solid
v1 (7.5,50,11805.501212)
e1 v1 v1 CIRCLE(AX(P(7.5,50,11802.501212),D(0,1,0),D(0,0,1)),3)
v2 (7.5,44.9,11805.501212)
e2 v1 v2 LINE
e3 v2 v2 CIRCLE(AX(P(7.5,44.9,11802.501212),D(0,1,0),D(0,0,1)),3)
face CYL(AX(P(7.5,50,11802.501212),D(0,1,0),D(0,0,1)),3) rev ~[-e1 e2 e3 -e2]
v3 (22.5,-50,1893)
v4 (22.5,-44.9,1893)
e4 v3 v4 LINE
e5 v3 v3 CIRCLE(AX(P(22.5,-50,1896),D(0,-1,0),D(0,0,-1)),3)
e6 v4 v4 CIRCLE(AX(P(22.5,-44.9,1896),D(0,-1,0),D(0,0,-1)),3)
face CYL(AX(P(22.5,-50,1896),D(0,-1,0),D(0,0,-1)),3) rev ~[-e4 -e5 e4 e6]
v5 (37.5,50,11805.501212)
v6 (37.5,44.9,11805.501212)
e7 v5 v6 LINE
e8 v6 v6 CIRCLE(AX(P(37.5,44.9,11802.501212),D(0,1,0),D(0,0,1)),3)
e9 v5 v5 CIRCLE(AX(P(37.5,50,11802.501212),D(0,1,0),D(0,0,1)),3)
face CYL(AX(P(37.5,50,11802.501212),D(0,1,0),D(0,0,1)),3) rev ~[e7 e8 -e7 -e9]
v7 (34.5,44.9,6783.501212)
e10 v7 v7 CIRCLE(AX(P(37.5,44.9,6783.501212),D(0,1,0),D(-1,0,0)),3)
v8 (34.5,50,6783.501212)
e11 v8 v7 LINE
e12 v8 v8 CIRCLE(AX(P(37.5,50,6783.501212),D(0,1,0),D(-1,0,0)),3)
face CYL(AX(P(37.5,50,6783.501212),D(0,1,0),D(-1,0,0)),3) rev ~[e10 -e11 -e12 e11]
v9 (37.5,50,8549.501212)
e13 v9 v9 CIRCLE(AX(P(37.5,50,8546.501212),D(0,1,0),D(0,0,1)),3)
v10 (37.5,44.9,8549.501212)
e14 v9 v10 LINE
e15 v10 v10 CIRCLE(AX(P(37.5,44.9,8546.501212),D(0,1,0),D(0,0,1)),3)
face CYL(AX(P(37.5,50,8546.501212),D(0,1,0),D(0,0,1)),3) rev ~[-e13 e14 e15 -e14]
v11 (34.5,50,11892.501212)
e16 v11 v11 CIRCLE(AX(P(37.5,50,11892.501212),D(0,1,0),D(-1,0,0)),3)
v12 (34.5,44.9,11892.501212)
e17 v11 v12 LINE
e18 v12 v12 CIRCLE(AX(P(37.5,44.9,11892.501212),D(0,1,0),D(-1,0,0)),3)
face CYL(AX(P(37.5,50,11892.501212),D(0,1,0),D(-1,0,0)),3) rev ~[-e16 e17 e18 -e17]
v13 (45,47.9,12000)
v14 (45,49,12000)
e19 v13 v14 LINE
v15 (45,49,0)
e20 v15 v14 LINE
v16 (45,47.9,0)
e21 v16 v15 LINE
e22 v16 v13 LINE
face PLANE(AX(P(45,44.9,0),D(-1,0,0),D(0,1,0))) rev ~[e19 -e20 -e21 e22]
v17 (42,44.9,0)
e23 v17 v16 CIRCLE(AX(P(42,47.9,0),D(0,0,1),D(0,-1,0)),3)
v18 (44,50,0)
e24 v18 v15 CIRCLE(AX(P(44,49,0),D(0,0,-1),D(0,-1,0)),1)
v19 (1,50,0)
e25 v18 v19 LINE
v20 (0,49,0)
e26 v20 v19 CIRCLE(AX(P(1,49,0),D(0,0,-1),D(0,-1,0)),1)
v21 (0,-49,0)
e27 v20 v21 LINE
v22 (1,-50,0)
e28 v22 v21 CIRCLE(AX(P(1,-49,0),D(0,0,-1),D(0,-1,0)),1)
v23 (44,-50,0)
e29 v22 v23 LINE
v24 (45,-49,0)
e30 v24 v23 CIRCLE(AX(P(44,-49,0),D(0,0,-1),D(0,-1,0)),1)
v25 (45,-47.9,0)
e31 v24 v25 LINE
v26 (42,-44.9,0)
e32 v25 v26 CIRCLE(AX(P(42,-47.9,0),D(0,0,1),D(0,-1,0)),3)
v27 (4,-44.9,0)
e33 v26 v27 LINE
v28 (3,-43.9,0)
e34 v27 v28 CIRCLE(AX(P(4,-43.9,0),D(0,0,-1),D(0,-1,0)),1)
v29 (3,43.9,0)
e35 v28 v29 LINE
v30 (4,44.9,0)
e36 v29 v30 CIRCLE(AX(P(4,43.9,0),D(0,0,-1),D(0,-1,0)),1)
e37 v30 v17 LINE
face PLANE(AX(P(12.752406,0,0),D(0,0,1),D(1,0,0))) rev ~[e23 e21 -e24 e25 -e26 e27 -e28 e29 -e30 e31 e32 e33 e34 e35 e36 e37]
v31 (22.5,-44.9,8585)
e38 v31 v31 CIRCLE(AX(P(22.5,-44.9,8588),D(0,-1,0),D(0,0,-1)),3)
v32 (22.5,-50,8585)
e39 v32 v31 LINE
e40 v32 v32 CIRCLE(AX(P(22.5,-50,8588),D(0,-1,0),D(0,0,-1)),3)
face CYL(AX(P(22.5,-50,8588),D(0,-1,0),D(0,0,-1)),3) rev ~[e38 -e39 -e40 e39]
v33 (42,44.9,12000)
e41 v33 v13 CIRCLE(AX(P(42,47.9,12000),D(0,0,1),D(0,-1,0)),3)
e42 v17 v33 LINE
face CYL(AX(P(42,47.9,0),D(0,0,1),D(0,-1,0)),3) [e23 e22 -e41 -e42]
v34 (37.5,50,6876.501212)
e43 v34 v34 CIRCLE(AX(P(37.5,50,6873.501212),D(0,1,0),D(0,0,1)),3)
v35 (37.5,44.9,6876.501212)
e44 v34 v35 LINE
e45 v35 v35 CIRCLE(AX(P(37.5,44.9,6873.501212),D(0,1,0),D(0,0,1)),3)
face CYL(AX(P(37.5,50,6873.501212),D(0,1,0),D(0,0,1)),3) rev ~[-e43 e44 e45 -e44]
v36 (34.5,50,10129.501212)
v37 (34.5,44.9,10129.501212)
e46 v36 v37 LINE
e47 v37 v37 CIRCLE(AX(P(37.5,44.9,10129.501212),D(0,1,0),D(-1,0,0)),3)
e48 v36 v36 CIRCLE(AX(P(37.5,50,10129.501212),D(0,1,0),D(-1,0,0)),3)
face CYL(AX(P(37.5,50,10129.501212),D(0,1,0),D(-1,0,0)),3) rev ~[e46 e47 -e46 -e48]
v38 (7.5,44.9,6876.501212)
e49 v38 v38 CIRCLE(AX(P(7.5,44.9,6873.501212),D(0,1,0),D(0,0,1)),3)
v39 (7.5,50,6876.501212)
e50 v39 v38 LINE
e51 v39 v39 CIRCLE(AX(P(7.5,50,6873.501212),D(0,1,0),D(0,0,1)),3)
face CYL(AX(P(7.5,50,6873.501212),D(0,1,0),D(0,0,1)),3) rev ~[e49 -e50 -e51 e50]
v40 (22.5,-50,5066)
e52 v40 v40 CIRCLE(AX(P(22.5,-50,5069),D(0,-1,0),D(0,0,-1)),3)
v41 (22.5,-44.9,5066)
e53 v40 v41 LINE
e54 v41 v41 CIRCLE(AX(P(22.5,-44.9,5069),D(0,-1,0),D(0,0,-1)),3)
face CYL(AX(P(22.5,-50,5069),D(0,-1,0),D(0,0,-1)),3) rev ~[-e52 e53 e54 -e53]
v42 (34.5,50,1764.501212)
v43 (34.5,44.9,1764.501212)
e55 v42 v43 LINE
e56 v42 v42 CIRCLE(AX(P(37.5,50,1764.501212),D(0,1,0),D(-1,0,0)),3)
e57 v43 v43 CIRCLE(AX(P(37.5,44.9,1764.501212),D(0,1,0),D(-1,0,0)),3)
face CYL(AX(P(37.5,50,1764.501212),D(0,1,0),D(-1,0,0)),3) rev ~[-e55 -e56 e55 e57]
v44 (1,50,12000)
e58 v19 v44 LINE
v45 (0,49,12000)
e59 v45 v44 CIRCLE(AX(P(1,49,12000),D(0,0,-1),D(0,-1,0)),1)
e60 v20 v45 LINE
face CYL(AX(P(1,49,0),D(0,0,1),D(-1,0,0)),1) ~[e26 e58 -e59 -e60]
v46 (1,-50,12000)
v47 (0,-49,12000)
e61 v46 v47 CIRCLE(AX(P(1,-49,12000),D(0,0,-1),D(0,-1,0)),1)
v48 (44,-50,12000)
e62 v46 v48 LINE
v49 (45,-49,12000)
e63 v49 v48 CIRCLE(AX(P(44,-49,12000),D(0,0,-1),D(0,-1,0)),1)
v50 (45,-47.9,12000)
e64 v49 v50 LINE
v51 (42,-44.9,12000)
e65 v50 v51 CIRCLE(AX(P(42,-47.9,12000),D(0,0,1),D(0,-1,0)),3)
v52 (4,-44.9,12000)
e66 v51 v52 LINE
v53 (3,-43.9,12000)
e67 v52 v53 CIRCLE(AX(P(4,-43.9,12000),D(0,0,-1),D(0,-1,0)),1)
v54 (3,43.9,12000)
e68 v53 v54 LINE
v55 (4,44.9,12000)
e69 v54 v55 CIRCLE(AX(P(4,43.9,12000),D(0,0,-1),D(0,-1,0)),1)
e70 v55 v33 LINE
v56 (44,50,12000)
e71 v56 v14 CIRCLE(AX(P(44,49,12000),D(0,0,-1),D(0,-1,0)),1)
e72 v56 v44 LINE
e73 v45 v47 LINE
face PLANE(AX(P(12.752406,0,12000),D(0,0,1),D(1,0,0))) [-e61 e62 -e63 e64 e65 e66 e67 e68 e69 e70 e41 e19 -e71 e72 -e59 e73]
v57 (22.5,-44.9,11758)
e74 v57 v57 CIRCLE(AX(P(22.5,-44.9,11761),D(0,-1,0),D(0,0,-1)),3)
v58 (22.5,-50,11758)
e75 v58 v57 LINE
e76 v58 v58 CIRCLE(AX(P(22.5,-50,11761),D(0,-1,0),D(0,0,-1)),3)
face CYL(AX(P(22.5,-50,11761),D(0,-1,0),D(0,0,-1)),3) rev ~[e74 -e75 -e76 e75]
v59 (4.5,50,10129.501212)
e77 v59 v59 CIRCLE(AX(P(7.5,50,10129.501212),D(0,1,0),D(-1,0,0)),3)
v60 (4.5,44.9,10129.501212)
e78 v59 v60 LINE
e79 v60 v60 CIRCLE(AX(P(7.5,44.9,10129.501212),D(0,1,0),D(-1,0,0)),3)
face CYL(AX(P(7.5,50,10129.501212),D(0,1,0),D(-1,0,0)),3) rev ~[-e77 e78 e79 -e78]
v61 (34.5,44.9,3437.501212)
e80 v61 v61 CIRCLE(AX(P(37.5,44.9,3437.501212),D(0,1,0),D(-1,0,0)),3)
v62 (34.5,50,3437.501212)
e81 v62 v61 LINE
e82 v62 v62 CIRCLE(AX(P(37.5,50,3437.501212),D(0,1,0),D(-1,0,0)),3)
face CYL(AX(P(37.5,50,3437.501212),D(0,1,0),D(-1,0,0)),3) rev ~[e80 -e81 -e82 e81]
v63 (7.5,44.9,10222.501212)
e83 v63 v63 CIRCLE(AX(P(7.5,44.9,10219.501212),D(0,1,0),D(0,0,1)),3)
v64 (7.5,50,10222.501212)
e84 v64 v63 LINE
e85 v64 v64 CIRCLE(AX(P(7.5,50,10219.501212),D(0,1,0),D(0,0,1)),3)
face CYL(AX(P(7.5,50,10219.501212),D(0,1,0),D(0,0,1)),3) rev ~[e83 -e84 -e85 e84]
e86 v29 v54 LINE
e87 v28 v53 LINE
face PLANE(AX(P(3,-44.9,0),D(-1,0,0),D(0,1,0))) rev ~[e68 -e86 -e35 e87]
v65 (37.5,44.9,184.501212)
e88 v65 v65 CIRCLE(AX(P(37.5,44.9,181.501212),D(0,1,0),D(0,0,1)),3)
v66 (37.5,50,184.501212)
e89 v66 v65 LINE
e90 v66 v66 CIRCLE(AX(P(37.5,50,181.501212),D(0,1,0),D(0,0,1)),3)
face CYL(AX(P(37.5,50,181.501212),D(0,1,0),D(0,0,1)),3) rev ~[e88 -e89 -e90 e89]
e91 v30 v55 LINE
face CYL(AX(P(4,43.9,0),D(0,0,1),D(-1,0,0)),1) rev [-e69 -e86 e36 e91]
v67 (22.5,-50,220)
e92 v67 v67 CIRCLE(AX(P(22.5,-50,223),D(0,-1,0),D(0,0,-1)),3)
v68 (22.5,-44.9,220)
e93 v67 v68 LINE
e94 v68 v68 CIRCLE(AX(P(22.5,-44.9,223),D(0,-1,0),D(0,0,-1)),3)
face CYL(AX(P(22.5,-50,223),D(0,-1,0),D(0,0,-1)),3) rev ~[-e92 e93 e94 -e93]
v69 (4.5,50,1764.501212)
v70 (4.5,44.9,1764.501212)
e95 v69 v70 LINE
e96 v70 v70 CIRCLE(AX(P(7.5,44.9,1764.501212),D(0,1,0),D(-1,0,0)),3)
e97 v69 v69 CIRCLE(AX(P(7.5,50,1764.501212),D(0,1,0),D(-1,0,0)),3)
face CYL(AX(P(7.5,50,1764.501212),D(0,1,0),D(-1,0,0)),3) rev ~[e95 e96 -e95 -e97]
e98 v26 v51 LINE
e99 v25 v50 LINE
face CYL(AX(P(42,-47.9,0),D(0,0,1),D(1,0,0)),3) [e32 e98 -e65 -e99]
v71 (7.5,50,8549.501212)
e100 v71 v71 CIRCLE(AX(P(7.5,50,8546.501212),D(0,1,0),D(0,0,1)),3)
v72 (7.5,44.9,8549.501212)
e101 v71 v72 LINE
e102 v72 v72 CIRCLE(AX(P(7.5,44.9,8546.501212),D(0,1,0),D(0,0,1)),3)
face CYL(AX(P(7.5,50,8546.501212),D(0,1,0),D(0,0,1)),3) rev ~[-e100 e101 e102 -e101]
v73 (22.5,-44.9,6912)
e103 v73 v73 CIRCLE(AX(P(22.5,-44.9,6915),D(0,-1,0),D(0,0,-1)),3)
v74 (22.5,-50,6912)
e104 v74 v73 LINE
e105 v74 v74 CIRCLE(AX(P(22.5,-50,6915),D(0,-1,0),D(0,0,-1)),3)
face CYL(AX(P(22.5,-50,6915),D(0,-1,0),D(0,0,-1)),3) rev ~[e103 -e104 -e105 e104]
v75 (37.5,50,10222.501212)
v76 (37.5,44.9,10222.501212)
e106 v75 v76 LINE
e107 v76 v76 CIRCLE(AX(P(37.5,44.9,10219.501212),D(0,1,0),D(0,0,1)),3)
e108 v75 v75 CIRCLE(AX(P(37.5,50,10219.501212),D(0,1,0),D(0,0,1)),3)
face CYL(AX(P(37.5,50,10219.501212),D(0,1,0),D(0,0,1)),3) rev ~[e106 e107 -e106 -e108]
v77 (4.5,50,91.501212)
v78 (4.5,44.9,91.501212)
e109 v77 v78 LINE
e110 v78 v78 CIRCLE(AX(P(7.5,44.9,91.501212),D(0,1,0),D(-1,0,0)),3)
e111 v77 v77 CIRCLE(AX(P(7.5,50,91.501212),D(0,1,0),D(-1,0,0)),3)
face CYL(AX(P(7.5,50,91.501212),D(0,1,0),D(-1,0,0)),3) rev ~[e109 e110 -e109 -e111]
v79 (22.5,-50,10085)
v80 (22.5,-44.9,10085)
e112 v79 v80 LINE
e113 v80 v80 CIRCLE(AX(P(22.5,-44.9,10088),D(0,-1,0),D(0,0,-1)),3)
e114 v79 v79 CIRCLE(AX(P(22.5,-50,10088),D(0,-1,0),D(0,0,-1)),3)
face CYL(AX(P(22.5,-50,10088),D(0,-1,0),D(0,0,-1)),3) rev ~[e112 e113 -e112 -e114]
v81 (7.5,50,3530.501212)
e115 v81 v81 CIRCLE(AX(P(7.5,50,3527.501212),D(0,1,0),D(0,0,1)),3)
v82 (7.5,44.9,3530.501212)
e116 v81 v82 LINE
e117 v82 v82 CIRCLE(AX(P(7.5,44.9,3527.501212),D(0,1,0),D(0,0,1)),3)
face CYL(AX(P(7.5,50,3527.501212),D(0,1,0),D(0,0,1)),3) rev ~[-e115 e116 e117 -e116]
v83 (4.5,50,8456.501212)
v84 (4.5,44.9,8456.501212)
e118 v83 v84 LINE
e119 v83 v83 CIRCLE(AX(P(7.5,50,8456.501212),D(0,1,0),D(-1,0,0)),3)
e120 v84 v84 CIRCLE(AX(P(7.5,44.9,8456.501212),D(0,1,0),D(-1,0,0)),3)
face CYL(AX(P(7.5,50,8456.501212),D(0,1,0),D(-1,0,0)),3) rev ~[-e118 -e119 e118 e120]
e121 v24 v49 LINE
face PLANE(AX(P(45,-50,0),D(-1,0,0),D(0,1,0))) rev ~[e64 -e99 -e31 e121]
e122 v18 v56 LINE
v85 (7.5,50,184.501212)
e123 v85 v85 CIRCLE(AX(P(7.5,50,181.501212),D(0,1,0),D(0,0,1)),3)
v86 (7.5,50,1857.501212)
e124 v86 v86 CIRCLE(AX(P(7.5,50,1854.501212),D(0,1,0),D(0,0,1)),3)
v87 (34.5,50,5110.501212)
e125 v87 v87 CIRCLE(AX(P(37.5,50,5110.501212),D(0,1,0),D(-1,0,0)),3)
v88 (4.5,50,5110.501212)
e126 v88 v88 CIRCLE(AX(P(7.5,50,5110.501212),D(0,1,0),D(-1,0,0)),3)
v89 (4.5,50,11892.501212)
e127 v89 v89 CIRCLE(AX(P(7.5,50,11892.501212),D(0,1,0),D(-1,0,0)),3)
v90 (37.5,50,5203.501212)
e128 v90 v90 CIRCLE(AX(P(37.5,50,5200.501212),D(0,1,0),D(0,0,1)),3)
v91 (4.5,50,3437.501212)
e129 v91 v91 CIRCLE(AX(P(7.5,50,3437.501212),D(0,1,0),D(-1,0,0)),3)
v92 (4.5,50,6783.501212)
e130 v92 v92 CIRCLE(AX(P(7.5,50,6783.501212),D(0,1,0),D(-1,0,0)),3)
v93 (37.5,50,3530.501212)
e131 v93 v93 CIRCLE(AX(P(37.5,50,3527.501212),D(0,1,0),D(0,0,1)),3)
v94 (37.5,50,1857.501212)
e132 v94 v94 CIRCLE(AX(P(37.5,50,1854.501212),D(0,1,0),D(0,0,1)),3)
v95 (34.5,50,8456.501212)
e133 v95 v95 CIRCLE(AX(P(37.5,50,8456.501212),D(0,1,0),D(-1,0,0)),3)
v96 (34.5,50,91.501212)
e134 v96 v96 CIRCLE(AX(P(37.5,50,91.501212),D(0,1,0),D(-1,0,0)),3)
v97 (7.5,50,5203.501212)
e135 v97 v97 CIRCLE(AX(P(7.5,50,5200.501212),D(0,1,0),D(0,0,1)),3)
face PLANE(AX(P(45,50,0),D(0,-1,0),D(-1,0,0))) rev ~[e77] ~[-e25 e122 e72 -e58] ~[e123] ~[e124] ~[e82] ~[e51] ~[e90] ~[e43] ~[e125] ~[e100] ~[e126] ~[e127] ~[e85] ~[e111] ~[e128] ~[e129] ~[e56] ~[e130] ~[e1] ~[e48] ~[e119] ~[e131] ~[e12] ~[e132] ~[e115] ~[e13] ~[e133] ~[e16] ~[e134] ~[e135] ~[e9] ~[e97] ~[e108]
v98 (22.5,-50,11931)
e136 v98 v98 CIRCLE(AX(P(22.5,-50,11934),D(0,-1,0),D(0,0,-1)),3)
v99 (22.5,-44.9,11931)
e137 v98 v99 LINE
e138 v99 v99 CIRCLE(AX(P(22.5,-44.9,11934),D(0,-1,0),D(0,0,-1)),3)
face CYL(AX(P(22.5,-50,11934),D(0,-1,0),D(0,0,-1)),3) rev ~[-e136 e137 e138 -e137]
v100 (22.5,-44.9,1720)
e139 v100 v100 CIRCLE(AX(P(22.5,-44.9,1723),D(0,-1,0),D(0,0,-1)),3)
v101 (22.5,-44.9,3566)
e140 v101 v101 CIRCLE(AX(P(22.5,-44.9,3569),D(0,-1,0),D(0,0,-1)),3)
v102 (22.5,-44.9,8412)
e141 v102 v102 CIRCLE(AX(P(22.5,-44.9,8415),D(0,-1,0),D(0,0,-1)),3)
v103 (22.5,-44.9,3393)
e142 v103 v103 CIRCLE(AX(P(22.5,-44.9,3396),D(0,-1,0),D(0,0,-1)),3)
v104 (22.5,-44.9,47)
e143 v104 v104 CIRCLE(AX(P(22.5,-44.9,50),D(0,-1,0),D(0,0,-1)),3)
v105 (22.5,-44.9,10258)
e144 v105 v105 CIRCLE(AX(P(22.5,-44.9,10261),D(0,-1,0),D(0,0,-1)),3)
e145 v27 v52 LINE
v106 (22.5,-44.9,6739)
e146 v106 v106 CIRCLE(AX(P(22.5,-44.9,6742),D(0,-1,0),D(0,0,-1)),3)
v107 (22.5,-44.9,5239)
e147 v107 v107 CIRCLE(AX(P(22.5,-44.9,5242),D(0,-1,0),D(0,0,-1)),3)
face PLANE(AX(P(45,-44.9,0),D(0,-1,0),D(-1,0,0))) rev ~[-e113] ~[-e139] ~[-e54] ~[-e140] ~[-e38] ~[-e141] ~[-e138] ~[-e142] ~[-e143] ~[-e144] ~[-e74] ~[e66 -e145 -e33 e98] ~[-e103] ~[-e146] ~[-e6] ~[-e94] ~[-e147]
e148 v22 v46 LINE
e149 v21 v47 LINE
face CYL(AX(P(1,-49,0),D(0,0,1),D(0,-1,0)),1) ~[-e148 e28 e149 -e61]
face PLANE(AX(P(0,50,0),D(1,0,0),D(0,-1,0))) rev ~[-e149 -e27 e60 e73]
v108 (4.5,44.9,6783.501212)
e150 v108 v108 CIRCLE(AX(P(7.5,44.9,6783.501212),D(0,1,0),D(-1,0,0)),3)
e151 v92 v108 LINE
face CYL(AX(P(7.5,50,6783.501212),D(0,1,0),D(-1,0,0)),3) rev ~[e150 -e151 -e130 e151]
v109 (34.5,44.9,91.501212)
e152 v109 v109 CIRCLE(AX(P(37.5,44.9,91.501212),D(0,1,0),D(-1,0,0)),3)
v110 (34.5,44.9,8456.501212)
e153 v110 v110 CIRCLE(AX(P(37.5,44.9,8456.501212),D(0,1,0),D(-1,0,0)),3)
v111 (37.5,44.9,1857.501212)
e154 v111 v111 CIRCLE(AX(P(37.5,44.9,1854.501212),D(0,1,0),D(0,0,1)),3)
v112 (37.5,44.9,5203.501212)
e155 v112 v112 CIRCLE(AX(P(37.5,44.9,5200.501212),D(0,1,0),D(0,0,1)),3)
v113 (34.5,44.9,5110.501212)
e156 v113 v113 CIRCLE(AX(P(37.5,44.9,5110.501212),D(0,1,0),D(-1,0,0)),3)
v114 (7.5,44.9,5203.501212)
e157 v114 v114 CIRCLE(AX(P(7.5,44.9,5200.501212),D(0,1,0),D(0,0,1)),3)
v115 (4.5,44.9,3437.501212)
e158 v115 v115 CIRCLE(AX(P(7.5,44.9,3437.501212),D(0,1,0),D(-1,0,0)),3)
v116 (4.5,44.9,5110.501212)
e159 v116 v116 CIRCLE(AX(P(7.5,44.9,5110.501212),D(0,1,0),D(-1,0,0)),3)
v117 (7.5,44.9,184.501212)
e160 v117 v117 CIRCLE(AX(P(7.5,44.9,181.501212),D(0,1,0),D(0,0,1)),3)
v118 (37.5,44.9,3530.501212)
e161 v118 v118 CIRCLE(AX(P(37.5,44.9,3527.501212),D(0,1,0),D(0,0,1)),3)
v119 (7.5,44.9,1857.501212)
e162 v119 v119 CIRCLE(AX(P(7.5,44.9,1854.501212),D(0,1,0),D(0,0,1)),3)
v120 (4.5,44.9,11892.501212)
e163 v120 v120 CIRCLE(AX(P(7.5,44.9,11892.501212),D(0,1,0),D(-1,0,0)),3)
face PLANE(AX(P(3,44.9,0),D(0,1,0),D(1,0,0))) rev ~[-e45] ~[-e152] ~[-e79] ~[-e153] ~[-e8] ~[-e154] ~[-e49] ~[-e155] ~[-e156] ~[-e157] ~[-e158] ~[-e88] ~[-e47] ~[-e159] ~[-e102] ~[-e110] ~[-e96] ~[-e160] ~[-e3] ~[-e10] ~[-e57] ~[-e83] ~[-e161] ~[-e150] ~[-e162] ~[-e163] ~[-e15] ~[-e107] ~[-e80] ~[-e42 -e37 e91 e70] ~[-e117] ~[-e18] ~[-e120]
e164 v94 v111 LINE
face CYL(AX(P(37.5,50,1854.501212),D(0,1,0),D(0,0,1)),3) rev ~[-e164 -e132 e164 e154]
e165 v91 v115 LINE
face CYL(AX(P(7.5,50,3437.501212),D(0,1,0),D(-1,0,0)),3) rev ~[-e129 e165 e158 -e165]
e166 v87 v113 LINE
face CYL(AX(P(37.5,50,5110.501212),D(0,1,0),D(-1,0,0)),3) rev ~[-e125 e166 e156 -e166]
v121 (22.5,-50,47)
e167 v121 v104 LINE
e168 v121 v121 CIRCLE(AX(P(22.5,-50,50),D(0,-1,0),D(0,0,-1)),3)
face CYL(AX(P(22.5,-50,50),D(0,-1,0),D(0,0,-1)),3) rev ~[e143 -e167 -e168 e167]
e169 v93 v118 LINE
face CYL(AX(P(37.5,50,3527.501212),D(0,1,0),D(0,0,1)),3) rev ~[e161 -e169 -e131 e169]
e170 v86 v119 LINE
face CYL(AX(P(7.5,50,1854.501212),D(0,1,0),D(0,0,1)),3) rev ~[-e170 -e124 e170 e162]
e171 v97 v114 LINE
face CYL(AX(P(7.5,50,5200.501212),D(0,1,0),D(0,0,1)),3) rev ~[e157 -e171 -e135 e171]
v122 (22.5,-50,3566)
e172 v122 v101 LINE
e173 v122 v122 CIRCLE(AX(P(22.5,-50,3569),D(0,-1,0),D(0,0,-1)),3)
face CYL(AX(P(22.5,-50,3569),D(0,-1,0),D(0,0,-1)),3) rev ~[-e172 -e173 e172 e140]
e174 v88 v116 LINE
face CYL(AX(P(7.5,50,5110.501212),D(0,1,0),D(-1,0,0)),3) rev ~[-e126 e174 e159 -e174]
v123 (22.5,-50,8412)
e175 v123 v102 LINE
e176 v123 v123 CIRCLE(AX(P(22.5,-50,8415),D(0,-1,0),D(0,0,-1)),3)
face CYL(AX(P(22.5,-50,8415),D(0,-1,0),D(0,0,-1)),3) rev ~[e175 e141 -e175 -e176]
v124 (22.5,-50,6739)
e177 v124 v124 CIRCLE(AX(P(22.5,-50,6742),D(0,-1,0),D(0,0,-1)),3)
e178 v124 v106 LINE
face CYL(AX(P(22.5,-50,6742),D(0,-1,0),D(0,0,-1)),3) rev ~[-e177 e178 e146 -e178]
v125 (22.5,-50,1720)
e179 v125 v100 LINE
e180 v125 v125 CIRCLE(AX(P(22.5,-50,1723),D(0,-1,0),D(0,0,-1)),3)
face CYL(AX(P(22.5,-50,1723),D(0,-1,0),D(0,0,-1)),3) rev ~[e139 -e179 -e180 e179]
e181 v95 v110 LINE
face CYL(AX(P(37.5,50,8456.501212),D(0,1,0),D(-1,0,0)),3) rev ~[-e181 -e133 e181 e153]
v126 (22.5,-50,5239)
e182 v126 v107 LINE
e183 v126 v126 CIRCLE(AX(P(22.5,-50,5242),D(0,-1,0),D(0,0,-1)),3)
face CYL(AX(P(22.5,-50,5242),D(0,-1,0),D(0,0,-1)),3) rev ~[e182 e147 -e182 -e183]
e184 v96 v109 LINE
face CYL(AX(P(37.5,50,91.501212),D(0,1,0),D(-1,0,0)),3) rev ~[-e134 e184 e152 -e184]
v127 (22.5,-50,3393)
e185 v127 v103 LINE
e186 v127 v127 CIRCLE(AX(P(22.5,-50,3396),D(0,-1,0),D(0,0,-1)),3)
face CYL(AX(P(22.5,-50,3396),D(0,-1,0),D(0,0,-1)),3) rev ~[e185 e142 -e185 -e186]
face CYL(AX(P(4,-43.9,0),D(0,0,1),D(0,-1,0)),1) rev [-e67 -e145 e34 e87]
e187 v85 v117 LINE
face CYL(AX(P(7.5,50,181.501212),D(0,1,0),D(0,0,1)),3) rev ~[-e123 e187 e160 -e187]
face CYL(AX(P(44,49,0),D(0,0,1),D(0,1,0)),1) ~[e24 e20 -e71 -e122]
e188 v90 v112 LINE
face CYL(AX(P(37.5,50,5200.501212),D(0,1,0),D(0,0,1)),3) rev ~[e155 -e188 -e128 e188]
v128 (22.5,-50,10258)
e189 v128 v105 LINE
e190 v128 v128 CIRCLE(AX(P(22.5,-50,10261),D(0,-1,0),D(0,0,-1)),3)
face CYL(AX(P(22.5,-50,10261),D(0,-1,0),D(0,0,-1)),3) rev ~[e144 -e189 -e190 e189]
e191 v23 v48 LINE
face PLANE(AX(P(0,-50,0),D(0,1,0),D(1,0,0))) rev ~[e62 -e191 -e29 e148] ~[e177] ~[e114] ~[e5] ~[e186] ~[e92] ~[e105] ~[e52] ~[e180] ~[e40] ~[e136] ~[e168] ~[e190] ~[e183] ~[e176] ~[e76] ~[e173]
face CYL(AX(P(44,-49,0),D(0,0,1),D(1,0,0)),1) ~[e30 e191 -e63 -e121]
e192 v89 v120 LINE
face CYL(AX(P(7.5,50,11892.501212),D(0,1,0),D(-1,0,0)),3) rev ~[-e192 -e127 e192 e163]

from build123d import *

# Parameters (mm, degrees)
BOSS_EXTRUDE1_DEPTH = 12000
FILLET1_R           = 3
FILLET2_R           = 1
FILLET3_R           = 1
CUT_EXTRUDE4_REACH  = 12002.501
SKETCH4_R           = 3
SKETCH5_R           = 3
CUT_EXTRUDE5_DEPTH  = 10


with BuildPart() as part:
    # Sketch1 → Boss-Extrude1 (new body)
    with BuildSketch(Plane.XY):
        Polygon((0, 50), (0, -50), (45, -50), (45, -44.9), (3, -44.9), (3, 44.9), (45, 44.9), (45, 50), align=None)
    extrude(amount=BOSS_EXTRUDE1_DEPTH)

    # Fillet1
    fillet1_edges = [part.edges().sort_by_distance(p)[0] for p in [
        (45, -44.9, 6000),
        (45, 44.9, 6000),
    ]]
    fillet(fillet1_edges, radius=FILLET1_R)

    # Fillet2
    fillet2_edges = [part.edges().sort_by_distance(p)[0] for p in [
        (45, -50, 6000),
        (0, -50, 6000),
        (0, 50, 6000),
        (45, 50, 6000),
    ]]
    fillet(fillet2_edges, radius=FILLET2_R)

    # Fillet3
    fillet3_edges = [part.edges().sort_by_distance(p)[0] for p in [
        (3, -44.9, 6000),
        (3, 44.9, 6000),
    ]]
    fillet(fillet3_edges, radius=FILLET3_R)

    # Sketch4 → Cut-Extrude4 (cut, up to next)
    with BuildSketch(Plane.XZ.offset(50), mode=Mode.PRIVATE) as cut_extrude4_sk1:
        with Locations(Location((22.5, 50, 0), (0, 0, 270))):
            Circle(SKETCH4_R)
    cut_extrude4_tool1 = extrude(cut_extrude4_sk1.sketch, amount=-CUT_EXTRUDE4_REACH, mode=Mode.PRIVATE) & part.part
    # Sketch4 → Cut-Extrude4 (cut, up to next)
    with BuildSketch(Plane.XZ.offset(50), mode=Mode.PRIVATE) as cut_extrude4_sk2:
        with Locations(Location((22.5, 223, 0), (0, 0, 270))):
            Circle(SKETCH4_R)
    cut_extrude4_tool2 = extrude(cut_extrude4_sk2.sketch, amount=-CUT_EXTRUDE4_REACH, mode=Mode.PRIVATE) & part.part
    # Sketch4 → Cut-Extrude4 (cut, up to next)
    with BuildSketch(Plane.XZ.offset(50), mode=Mode.PRIVATE) as cut_extrude4_sk3:
        with Locations(Location((22.5, 1723, 0), (0, 0, 270))):
            Circle(SKETCH4_R)
    cut_extrude4_tool3 = extrude(cut_extrude4_sk3.sketch, amount=-CUT_EXTRUDE4_REACH, mode=Mode.PRIVATE) & part.part
    # Sketch4 → Cut-Extrude4 (cut, up to next)
    with BuildSketch(Plane.XZ.offset(50), mode=Mode.PRIVATE) as cut_extrude4_sk4:
        with Locations(Location((22.5, 1896, 0), (0, 0, 270))):
            Circle(SKETCH4_R)
    cut_extrude4_tool4 = extrude(cut_extrude4_sk4.sketch, amount=-CUT_EXTRUDE4_REACH, mode=Mode.PRIVATE) & part.part
    # Sketch4 → Cut-Extrude4 (cut, up to next)
    with BuildSketch(Plane.XZ.offset(50), mode=Mode.PRIVATE) as cut_extrude4_sk5:
        with Locations(Location((22.5, 3396, 0), (0, 0, 270))):
            Circle(SKETCH4_R)
    cut_extrude4_tool5 = extrude(cut_extrude4_sk5.sketch, amount=-CUT_EXTRUDE4_REACH, mode=Mode.PRIVATE) & part.part
    # Sketch4 → Cut-Extrude4 (cut, up to next)
    with BuildSketch(Plane.XZ.offset(50), mode=Mode.PRIVATE) as cut_extrude4_sk6:
        with Locations(Location((22.5, 3569, 0), (0, 0, 270))):
            Circle(SKETCH4_R)
    cut_extrude4_tool6 = extrude(cut_extrude4_sk6.sketch, amount=-CUT_EXTRUDE4_REACH, mode=Mode.PRIVATE) & part.part
    # Sketch4 → Cut-Extrude4 (cut, up to next)
    with BuildSketch(Plane.XZ.offset(50), mode=Mode.PRIVATE) as cut_extrude4_sk7:
        with Locations(Location((22.5, 5069, 0), (0, 0, 270))):
            Circle(SKETCH4_R)
    cut_extrude4_tool7 = extrude(cut_extrude4_sk7.sketch, amount=-CUT_EXTRUDE4_REACH, mode=Mode.PRIVATE) & part.part
    # Sketch4 → Cut-Extrude4 (cut, up to next)
    with BuildSketch(Plane.XZ.offset(50), mode=Mode.PRIVATE) as cut_extrude4_sk8:
        with Locations(Location((22.5, 5242, 0), (0, 0, 270))):
            Circle(SKETCH4_R)
    cut_extrude4_tool8 = extrude(cut_extrude4_sk8.sketch, amount=-CUT_EXTRUDE4_REACH, mode=Mode.PRIVATE) & part.part
    # Sketch4 → Cut-Extrude4 (cut, up to next)
    with BuildSketch(Plane.XZ.offset(50), mode=Mode.PRIVATE) as cut_extrude4_sk9:
        with Locations(Location((22.5, 6742, 0), (0, 0, 270))):
            Circle(SKETCH4_R)
    cut_extrude4_tool9 = extrude(cut_extrude4_sk9.sketch, amount=-CUT_EXTRUDE4_REACH, mode=Mode.PRIVATE) & part.part
    # Sketch4 → Cut-Extrude4 (cut, up to next)
    with BuildSketch(Plane.XZ.offset(50), mode=Mode.PRIVATE) as cut_extrude4_sk10:
        with Locations(Location((22.5, 6915, 0), (0, 0, 270))):
            Circle(SKETCH4_R)
    cut_extrude4_tool10 = extrude(cut_extrude4_sk10.sketch, amount=-CUT_EXTRUDE4_REACH, mode=Mode.PRIVATE) & part.part
    # Sketch4 → Cut-Extrude4 (cut, up to next)
    with BuildSketch(Plane.XZ.offset(50), mode=Mode.PRIVATE) as cut_extrude4_sk11:
        with Locations(Location((22.5, 8415, 0), (0, 0, 270))):
            Circle(SKETCH4_R)
    cut_extrude4_tool11 = extrude(cut_extrude4_sk11.sketch, amount=-CUT_EXTRUDE4_REACH, mode=Mode.PRIVATE) & part.part
    # Sketch4 → Cut-Extrude4 (cut, up to next)
    with BuildSketch(Plane.XZ.offset(50), mode=Mode.PRIVATE) as cut_extrude4_sk12:
        with Locations(Location((22.5, 8588, 0), (0, 0, 270))):
            Circle(SKETCH4_R)
    cut_extrude4_tool12 = extrude(cut_extrude4_sk12.sketch, amount=-CUT_EXTRUDE4_REACH, mode=Mode.PRIVATE) & part.part
    # Sketch4 → Cut-Extrude4 (cut, up to next)
    with BuildSketch(Plane.XZ.offset(50), mode=Mode.PRIVATE) as cut_extrude4_sk13:
        with Locations(Location((22.5, 10088, 0), (0, 0, 270))):
            Circle(SKETCH4_R)
    cut_extrude4_tool13 = extrude(cut_extrude4_sk13.sketch, amount=-CUT_EXTRUDE4_REACH, mode=Mode.PRIVATE) & part.part
    # Sketch4 → Cut-Extrude4 (cut, up to next)
    with BuildSketch(Plane.XZ.offset(50), mode=Mode.PRIVATE) as cut_extrude4_sk14:
        with Locations(Location((22.5, 10261, 0), (0, 0, 270))):
            Circle(SKETCH4_R)
    cut_extrude4_tool14 = extrude(cut_extrude4_sk14.sketch, amount=-CUT_EXTRUDE4_REACH, mode=Mode.PRIVATE) & part.part
    # Sketch4 → Cut-Extrude4 (cut, up to next)
    with BuildSketch(Plane.XZ.offset(50), mode=Mode.PRIVATE) as cut_extrude4_sk15:
        with Locations(Location((22.5, 11761, 0), (0, 0, 270))):
            Circle(SKETCH4_R)
    cut_extrude4_tool15 = extrude(cut_extrude4_sk15.sketch, amount=-CUT_EXTRUDE4_REACH, mode=Mode.PRIVATE) & part.part
    # Sketch4 → Cut-Extrude4 (cut, up to next)
    with BuildSketch(Plane.XZ.offset(50), mode=Mode.PRIVATE) as cut_extrude4_sk16:
        with Locations(Location((22.5, 11934, 0), (0, 0, 270))):
            Circle(SKETCH4_R)
    cut_extrude4_tool16 = extrude(cut_extrude4_sk16.sketch, amount=-CUT_EXTRUDE4_REACH, mode=Mode.PRIVATE) & part.part
    add(cut_extrude4_tool1.solids().sort_by_distance((22.5, -50, 50))[0], mode=Mode.SUBTRACT)
    add(cut_extrude4_tool2.solids().sort_by_distance((22.5, -50, 223))[0], mode=Mode.SUBTRACT)
    add(cut_extrude4_tool3.solids().sort_by_distance((22.5, -50, 1723))[0], mode=Mode.SUBTRACT)
    add(cut_extrude4_tool4.solids().sort_by_distance((22.5, -50, 1896))[0], mode=Mode.SUBTRACT)
    add(cut_extrude4_tool5.solids().sort_by_distance((22.5, -50, 3396))[0], mode=Mode.SUBTRACT)
    add(cut_extrude4_tool6.solids().sort_by_distance((22.5, -50, 3569))[0], mode=Mode.SUBTRACT)
    add(cut_extrude4_tool7.solids().sort_by_distance((22.5, -50, 5069))[0], mode=Mode.SUBTRACT)
    add(cut_extrude4_tool8.solids().sort_by_distance((22.5, -50, 5242))[0], mode=Mode.SUBTRACT)
    add(cut_extrude4_tool9.solids().sort_by_distance((22.5, -50, 6742))[0], mode=Mode.SUBTRACT)
    add(cut_extrude4_tool10.solids().sort_by_distance((22.5, -50, 6915))[0], mode=Mode.SUBTRACT)
    add(cut_extrude4_tool11.solids().sort_by_distance((22.5, -50, 8415))[0], mode=Mode.SUBTRACT)
    add(cut_extrude4_tool12.solids().sort_by_distance((22.5, -50, 8588))[0], mode=Mode.SUBTRACT)
    add(cut_extrude4_tool13.solids().sort_by_distance((22.5, -50, 10088))[0], mode=Mode.SUBTRACT)
    add(cut_extrude4_tool14.solids().sort_by_distance((22.5, -50, 10261))[0], mode=Mode.SUBTRACT)
    add(cut_extrude4_tool15.solids().sort_by_distance((22.5, -50, 11761))[0], mode=Mode.SUBTRACT)
    add(cut_extrude4_tool16.solids().sort_by_distance((22.5, -50, 11934))[0], mode=Mode.SUBTRACT)

    # Sketch5 → Cut-Extrude5 (cut)
    with BuildSketch(Plane(origin=(0, 50, 0), x_dir=(1, 0, 0), z_dir=(0, 1, 0))):
        with Locations(Location((37.5, -181.501212025, 0), (0, 0, 270))):
            Circle(SKETCH5_R)
        with Locations(Location((7.5, -181.501212025, 0), (0, 0, 270))):
            Circle(SKETCH5_R)
        with Locations(Location((7.5, -91.501212025, 0), (0, 0, 180))):
            Circle(SKETCH5_R)
        with Locations(Location((37.5, -91.501212025, 0), (0, 0, 180))):
            Circle(SKETCH5_R)
        with Locations(Location((37.5, -1854.501212025, 0), (0, 0, 270))):
            Circle(SKETCH5_R)
        with Locations(Location((7.5, -1854.501212025, 0), (0, 0, 270))):
            Circle(SKETCH5_R)
        with Locations(Location((7.5, -1764.501212025, 0), (0, 0, 180))):
            Circle(SKETCH5_R)
        with Locations(Location((37.5, -1764.501212025, 0), (0, 0, 180))):
            Circle(SKETCH5_R)
        with Locations(Location((37.5, -3527.501212025, 0), (0, 0, 270))):
            Circle(SKETCH5_R)
        with Locations(Location((7.5, -3527.501212025, 0), (0, 0, 270))):
            Circle(SKETCH5_R)
        with Locations(Location((7.5, -3437.501212025, 0), (0, 0, 180))):
            Circle(SKETCH5_R)
        with Locations(Location((37.5, -3437.501212025, 0), (0, 0, 180))):
            Circle(SKETCH5_R)
        with Locations(Location((37.5, -5200.501212025, 0), (0, 0, 270))):
            Circle(SKETCH5_R)
        with Locations(Location((7.5, -5200.501212025, 0), (0, 0, 270))):
            Circle(SKETCH5_R)
        with Locations(Location((7.5, -5110.501212025, 0), (0, 0, 180))):
            Circle(SKETCH5_R)
        with Locations(Location((37.5, -5110.501212025, 0), (0, 0, 180))):
            Circle(SKETCH5_R)
        with Locations(Location((37.5, -6873.501212025, 0), (0, 0, 270))):
            Circle(SKETCH5_R)
        with Locations(Location((7.5, -6873.501212025, 0), (0, 0, 270))):
            Circle(SKETCH5_R)
        with Locations(Location((7.5, -6783.501212025, 0), (0, 0, 180))):
            Circle(SKETCH5_R)
        with Locations(Location((37.5, -6783.501212025, 0), (0, 0, 180))):
            Circle(SKETCH5_R)
        with Locations(Location((37.5, -8546.501212025, 0), (0, 0, 270))):
            Circle(SKETCH5_R)
        with Locations(Location((7.5, -8546.501212025, 0), (0, 0, 270))):
            Circle(SKETCH5_R)
        with Locations(Location((7.5, -8456.501212025, 0), (0, 0, 180))):
            Circle(SKETCH5_R)
        with Locations(Location((37.5, -8456.501212025, 0), (0, 0, 180))):
            Circle(SKETCH5_R)
        with Locations(Location((37.5, -10219.501212025, 0), (0, 0, 270))):
            Circle(SKETCH5_R)
        with Locations(Location((7.5, -10219.501212025, 0), (0, 0, 270))):
            Circle(SKETCH5_R)
        with Locations(Location((7.5, -10129.501212025, 0), (0, 0, 180))):
            Circle(SKETCH5_R)
        with Locations(Location((37.5, -10129.501212025, 0), (0, 0, 180))):
            Circle(SKETCH5_R)
        with Locations(Location((7.5, -11802.501212025, 0), (0, 0, 270))):
            Circle(SKETCH5_R)
        with Locations(Location((37.5, -11802.501212025, 0), (0, 0, 270))):
            Circle(SKETCH5_R)
        with Locations(Location((37.5, -11892.501212025, 0), (0, 0, 180))):
            Circle(SKETCH5_R)
        with Locations(Location((7.5, -11892.501212025, 0), (0, 0, 180))):
            Circle(SKETCH5_R)
    extrude(amount=-CUT_EXTRUDE5_DEPTH, mode=Mode.SUBTRACT)


solid = part.part
